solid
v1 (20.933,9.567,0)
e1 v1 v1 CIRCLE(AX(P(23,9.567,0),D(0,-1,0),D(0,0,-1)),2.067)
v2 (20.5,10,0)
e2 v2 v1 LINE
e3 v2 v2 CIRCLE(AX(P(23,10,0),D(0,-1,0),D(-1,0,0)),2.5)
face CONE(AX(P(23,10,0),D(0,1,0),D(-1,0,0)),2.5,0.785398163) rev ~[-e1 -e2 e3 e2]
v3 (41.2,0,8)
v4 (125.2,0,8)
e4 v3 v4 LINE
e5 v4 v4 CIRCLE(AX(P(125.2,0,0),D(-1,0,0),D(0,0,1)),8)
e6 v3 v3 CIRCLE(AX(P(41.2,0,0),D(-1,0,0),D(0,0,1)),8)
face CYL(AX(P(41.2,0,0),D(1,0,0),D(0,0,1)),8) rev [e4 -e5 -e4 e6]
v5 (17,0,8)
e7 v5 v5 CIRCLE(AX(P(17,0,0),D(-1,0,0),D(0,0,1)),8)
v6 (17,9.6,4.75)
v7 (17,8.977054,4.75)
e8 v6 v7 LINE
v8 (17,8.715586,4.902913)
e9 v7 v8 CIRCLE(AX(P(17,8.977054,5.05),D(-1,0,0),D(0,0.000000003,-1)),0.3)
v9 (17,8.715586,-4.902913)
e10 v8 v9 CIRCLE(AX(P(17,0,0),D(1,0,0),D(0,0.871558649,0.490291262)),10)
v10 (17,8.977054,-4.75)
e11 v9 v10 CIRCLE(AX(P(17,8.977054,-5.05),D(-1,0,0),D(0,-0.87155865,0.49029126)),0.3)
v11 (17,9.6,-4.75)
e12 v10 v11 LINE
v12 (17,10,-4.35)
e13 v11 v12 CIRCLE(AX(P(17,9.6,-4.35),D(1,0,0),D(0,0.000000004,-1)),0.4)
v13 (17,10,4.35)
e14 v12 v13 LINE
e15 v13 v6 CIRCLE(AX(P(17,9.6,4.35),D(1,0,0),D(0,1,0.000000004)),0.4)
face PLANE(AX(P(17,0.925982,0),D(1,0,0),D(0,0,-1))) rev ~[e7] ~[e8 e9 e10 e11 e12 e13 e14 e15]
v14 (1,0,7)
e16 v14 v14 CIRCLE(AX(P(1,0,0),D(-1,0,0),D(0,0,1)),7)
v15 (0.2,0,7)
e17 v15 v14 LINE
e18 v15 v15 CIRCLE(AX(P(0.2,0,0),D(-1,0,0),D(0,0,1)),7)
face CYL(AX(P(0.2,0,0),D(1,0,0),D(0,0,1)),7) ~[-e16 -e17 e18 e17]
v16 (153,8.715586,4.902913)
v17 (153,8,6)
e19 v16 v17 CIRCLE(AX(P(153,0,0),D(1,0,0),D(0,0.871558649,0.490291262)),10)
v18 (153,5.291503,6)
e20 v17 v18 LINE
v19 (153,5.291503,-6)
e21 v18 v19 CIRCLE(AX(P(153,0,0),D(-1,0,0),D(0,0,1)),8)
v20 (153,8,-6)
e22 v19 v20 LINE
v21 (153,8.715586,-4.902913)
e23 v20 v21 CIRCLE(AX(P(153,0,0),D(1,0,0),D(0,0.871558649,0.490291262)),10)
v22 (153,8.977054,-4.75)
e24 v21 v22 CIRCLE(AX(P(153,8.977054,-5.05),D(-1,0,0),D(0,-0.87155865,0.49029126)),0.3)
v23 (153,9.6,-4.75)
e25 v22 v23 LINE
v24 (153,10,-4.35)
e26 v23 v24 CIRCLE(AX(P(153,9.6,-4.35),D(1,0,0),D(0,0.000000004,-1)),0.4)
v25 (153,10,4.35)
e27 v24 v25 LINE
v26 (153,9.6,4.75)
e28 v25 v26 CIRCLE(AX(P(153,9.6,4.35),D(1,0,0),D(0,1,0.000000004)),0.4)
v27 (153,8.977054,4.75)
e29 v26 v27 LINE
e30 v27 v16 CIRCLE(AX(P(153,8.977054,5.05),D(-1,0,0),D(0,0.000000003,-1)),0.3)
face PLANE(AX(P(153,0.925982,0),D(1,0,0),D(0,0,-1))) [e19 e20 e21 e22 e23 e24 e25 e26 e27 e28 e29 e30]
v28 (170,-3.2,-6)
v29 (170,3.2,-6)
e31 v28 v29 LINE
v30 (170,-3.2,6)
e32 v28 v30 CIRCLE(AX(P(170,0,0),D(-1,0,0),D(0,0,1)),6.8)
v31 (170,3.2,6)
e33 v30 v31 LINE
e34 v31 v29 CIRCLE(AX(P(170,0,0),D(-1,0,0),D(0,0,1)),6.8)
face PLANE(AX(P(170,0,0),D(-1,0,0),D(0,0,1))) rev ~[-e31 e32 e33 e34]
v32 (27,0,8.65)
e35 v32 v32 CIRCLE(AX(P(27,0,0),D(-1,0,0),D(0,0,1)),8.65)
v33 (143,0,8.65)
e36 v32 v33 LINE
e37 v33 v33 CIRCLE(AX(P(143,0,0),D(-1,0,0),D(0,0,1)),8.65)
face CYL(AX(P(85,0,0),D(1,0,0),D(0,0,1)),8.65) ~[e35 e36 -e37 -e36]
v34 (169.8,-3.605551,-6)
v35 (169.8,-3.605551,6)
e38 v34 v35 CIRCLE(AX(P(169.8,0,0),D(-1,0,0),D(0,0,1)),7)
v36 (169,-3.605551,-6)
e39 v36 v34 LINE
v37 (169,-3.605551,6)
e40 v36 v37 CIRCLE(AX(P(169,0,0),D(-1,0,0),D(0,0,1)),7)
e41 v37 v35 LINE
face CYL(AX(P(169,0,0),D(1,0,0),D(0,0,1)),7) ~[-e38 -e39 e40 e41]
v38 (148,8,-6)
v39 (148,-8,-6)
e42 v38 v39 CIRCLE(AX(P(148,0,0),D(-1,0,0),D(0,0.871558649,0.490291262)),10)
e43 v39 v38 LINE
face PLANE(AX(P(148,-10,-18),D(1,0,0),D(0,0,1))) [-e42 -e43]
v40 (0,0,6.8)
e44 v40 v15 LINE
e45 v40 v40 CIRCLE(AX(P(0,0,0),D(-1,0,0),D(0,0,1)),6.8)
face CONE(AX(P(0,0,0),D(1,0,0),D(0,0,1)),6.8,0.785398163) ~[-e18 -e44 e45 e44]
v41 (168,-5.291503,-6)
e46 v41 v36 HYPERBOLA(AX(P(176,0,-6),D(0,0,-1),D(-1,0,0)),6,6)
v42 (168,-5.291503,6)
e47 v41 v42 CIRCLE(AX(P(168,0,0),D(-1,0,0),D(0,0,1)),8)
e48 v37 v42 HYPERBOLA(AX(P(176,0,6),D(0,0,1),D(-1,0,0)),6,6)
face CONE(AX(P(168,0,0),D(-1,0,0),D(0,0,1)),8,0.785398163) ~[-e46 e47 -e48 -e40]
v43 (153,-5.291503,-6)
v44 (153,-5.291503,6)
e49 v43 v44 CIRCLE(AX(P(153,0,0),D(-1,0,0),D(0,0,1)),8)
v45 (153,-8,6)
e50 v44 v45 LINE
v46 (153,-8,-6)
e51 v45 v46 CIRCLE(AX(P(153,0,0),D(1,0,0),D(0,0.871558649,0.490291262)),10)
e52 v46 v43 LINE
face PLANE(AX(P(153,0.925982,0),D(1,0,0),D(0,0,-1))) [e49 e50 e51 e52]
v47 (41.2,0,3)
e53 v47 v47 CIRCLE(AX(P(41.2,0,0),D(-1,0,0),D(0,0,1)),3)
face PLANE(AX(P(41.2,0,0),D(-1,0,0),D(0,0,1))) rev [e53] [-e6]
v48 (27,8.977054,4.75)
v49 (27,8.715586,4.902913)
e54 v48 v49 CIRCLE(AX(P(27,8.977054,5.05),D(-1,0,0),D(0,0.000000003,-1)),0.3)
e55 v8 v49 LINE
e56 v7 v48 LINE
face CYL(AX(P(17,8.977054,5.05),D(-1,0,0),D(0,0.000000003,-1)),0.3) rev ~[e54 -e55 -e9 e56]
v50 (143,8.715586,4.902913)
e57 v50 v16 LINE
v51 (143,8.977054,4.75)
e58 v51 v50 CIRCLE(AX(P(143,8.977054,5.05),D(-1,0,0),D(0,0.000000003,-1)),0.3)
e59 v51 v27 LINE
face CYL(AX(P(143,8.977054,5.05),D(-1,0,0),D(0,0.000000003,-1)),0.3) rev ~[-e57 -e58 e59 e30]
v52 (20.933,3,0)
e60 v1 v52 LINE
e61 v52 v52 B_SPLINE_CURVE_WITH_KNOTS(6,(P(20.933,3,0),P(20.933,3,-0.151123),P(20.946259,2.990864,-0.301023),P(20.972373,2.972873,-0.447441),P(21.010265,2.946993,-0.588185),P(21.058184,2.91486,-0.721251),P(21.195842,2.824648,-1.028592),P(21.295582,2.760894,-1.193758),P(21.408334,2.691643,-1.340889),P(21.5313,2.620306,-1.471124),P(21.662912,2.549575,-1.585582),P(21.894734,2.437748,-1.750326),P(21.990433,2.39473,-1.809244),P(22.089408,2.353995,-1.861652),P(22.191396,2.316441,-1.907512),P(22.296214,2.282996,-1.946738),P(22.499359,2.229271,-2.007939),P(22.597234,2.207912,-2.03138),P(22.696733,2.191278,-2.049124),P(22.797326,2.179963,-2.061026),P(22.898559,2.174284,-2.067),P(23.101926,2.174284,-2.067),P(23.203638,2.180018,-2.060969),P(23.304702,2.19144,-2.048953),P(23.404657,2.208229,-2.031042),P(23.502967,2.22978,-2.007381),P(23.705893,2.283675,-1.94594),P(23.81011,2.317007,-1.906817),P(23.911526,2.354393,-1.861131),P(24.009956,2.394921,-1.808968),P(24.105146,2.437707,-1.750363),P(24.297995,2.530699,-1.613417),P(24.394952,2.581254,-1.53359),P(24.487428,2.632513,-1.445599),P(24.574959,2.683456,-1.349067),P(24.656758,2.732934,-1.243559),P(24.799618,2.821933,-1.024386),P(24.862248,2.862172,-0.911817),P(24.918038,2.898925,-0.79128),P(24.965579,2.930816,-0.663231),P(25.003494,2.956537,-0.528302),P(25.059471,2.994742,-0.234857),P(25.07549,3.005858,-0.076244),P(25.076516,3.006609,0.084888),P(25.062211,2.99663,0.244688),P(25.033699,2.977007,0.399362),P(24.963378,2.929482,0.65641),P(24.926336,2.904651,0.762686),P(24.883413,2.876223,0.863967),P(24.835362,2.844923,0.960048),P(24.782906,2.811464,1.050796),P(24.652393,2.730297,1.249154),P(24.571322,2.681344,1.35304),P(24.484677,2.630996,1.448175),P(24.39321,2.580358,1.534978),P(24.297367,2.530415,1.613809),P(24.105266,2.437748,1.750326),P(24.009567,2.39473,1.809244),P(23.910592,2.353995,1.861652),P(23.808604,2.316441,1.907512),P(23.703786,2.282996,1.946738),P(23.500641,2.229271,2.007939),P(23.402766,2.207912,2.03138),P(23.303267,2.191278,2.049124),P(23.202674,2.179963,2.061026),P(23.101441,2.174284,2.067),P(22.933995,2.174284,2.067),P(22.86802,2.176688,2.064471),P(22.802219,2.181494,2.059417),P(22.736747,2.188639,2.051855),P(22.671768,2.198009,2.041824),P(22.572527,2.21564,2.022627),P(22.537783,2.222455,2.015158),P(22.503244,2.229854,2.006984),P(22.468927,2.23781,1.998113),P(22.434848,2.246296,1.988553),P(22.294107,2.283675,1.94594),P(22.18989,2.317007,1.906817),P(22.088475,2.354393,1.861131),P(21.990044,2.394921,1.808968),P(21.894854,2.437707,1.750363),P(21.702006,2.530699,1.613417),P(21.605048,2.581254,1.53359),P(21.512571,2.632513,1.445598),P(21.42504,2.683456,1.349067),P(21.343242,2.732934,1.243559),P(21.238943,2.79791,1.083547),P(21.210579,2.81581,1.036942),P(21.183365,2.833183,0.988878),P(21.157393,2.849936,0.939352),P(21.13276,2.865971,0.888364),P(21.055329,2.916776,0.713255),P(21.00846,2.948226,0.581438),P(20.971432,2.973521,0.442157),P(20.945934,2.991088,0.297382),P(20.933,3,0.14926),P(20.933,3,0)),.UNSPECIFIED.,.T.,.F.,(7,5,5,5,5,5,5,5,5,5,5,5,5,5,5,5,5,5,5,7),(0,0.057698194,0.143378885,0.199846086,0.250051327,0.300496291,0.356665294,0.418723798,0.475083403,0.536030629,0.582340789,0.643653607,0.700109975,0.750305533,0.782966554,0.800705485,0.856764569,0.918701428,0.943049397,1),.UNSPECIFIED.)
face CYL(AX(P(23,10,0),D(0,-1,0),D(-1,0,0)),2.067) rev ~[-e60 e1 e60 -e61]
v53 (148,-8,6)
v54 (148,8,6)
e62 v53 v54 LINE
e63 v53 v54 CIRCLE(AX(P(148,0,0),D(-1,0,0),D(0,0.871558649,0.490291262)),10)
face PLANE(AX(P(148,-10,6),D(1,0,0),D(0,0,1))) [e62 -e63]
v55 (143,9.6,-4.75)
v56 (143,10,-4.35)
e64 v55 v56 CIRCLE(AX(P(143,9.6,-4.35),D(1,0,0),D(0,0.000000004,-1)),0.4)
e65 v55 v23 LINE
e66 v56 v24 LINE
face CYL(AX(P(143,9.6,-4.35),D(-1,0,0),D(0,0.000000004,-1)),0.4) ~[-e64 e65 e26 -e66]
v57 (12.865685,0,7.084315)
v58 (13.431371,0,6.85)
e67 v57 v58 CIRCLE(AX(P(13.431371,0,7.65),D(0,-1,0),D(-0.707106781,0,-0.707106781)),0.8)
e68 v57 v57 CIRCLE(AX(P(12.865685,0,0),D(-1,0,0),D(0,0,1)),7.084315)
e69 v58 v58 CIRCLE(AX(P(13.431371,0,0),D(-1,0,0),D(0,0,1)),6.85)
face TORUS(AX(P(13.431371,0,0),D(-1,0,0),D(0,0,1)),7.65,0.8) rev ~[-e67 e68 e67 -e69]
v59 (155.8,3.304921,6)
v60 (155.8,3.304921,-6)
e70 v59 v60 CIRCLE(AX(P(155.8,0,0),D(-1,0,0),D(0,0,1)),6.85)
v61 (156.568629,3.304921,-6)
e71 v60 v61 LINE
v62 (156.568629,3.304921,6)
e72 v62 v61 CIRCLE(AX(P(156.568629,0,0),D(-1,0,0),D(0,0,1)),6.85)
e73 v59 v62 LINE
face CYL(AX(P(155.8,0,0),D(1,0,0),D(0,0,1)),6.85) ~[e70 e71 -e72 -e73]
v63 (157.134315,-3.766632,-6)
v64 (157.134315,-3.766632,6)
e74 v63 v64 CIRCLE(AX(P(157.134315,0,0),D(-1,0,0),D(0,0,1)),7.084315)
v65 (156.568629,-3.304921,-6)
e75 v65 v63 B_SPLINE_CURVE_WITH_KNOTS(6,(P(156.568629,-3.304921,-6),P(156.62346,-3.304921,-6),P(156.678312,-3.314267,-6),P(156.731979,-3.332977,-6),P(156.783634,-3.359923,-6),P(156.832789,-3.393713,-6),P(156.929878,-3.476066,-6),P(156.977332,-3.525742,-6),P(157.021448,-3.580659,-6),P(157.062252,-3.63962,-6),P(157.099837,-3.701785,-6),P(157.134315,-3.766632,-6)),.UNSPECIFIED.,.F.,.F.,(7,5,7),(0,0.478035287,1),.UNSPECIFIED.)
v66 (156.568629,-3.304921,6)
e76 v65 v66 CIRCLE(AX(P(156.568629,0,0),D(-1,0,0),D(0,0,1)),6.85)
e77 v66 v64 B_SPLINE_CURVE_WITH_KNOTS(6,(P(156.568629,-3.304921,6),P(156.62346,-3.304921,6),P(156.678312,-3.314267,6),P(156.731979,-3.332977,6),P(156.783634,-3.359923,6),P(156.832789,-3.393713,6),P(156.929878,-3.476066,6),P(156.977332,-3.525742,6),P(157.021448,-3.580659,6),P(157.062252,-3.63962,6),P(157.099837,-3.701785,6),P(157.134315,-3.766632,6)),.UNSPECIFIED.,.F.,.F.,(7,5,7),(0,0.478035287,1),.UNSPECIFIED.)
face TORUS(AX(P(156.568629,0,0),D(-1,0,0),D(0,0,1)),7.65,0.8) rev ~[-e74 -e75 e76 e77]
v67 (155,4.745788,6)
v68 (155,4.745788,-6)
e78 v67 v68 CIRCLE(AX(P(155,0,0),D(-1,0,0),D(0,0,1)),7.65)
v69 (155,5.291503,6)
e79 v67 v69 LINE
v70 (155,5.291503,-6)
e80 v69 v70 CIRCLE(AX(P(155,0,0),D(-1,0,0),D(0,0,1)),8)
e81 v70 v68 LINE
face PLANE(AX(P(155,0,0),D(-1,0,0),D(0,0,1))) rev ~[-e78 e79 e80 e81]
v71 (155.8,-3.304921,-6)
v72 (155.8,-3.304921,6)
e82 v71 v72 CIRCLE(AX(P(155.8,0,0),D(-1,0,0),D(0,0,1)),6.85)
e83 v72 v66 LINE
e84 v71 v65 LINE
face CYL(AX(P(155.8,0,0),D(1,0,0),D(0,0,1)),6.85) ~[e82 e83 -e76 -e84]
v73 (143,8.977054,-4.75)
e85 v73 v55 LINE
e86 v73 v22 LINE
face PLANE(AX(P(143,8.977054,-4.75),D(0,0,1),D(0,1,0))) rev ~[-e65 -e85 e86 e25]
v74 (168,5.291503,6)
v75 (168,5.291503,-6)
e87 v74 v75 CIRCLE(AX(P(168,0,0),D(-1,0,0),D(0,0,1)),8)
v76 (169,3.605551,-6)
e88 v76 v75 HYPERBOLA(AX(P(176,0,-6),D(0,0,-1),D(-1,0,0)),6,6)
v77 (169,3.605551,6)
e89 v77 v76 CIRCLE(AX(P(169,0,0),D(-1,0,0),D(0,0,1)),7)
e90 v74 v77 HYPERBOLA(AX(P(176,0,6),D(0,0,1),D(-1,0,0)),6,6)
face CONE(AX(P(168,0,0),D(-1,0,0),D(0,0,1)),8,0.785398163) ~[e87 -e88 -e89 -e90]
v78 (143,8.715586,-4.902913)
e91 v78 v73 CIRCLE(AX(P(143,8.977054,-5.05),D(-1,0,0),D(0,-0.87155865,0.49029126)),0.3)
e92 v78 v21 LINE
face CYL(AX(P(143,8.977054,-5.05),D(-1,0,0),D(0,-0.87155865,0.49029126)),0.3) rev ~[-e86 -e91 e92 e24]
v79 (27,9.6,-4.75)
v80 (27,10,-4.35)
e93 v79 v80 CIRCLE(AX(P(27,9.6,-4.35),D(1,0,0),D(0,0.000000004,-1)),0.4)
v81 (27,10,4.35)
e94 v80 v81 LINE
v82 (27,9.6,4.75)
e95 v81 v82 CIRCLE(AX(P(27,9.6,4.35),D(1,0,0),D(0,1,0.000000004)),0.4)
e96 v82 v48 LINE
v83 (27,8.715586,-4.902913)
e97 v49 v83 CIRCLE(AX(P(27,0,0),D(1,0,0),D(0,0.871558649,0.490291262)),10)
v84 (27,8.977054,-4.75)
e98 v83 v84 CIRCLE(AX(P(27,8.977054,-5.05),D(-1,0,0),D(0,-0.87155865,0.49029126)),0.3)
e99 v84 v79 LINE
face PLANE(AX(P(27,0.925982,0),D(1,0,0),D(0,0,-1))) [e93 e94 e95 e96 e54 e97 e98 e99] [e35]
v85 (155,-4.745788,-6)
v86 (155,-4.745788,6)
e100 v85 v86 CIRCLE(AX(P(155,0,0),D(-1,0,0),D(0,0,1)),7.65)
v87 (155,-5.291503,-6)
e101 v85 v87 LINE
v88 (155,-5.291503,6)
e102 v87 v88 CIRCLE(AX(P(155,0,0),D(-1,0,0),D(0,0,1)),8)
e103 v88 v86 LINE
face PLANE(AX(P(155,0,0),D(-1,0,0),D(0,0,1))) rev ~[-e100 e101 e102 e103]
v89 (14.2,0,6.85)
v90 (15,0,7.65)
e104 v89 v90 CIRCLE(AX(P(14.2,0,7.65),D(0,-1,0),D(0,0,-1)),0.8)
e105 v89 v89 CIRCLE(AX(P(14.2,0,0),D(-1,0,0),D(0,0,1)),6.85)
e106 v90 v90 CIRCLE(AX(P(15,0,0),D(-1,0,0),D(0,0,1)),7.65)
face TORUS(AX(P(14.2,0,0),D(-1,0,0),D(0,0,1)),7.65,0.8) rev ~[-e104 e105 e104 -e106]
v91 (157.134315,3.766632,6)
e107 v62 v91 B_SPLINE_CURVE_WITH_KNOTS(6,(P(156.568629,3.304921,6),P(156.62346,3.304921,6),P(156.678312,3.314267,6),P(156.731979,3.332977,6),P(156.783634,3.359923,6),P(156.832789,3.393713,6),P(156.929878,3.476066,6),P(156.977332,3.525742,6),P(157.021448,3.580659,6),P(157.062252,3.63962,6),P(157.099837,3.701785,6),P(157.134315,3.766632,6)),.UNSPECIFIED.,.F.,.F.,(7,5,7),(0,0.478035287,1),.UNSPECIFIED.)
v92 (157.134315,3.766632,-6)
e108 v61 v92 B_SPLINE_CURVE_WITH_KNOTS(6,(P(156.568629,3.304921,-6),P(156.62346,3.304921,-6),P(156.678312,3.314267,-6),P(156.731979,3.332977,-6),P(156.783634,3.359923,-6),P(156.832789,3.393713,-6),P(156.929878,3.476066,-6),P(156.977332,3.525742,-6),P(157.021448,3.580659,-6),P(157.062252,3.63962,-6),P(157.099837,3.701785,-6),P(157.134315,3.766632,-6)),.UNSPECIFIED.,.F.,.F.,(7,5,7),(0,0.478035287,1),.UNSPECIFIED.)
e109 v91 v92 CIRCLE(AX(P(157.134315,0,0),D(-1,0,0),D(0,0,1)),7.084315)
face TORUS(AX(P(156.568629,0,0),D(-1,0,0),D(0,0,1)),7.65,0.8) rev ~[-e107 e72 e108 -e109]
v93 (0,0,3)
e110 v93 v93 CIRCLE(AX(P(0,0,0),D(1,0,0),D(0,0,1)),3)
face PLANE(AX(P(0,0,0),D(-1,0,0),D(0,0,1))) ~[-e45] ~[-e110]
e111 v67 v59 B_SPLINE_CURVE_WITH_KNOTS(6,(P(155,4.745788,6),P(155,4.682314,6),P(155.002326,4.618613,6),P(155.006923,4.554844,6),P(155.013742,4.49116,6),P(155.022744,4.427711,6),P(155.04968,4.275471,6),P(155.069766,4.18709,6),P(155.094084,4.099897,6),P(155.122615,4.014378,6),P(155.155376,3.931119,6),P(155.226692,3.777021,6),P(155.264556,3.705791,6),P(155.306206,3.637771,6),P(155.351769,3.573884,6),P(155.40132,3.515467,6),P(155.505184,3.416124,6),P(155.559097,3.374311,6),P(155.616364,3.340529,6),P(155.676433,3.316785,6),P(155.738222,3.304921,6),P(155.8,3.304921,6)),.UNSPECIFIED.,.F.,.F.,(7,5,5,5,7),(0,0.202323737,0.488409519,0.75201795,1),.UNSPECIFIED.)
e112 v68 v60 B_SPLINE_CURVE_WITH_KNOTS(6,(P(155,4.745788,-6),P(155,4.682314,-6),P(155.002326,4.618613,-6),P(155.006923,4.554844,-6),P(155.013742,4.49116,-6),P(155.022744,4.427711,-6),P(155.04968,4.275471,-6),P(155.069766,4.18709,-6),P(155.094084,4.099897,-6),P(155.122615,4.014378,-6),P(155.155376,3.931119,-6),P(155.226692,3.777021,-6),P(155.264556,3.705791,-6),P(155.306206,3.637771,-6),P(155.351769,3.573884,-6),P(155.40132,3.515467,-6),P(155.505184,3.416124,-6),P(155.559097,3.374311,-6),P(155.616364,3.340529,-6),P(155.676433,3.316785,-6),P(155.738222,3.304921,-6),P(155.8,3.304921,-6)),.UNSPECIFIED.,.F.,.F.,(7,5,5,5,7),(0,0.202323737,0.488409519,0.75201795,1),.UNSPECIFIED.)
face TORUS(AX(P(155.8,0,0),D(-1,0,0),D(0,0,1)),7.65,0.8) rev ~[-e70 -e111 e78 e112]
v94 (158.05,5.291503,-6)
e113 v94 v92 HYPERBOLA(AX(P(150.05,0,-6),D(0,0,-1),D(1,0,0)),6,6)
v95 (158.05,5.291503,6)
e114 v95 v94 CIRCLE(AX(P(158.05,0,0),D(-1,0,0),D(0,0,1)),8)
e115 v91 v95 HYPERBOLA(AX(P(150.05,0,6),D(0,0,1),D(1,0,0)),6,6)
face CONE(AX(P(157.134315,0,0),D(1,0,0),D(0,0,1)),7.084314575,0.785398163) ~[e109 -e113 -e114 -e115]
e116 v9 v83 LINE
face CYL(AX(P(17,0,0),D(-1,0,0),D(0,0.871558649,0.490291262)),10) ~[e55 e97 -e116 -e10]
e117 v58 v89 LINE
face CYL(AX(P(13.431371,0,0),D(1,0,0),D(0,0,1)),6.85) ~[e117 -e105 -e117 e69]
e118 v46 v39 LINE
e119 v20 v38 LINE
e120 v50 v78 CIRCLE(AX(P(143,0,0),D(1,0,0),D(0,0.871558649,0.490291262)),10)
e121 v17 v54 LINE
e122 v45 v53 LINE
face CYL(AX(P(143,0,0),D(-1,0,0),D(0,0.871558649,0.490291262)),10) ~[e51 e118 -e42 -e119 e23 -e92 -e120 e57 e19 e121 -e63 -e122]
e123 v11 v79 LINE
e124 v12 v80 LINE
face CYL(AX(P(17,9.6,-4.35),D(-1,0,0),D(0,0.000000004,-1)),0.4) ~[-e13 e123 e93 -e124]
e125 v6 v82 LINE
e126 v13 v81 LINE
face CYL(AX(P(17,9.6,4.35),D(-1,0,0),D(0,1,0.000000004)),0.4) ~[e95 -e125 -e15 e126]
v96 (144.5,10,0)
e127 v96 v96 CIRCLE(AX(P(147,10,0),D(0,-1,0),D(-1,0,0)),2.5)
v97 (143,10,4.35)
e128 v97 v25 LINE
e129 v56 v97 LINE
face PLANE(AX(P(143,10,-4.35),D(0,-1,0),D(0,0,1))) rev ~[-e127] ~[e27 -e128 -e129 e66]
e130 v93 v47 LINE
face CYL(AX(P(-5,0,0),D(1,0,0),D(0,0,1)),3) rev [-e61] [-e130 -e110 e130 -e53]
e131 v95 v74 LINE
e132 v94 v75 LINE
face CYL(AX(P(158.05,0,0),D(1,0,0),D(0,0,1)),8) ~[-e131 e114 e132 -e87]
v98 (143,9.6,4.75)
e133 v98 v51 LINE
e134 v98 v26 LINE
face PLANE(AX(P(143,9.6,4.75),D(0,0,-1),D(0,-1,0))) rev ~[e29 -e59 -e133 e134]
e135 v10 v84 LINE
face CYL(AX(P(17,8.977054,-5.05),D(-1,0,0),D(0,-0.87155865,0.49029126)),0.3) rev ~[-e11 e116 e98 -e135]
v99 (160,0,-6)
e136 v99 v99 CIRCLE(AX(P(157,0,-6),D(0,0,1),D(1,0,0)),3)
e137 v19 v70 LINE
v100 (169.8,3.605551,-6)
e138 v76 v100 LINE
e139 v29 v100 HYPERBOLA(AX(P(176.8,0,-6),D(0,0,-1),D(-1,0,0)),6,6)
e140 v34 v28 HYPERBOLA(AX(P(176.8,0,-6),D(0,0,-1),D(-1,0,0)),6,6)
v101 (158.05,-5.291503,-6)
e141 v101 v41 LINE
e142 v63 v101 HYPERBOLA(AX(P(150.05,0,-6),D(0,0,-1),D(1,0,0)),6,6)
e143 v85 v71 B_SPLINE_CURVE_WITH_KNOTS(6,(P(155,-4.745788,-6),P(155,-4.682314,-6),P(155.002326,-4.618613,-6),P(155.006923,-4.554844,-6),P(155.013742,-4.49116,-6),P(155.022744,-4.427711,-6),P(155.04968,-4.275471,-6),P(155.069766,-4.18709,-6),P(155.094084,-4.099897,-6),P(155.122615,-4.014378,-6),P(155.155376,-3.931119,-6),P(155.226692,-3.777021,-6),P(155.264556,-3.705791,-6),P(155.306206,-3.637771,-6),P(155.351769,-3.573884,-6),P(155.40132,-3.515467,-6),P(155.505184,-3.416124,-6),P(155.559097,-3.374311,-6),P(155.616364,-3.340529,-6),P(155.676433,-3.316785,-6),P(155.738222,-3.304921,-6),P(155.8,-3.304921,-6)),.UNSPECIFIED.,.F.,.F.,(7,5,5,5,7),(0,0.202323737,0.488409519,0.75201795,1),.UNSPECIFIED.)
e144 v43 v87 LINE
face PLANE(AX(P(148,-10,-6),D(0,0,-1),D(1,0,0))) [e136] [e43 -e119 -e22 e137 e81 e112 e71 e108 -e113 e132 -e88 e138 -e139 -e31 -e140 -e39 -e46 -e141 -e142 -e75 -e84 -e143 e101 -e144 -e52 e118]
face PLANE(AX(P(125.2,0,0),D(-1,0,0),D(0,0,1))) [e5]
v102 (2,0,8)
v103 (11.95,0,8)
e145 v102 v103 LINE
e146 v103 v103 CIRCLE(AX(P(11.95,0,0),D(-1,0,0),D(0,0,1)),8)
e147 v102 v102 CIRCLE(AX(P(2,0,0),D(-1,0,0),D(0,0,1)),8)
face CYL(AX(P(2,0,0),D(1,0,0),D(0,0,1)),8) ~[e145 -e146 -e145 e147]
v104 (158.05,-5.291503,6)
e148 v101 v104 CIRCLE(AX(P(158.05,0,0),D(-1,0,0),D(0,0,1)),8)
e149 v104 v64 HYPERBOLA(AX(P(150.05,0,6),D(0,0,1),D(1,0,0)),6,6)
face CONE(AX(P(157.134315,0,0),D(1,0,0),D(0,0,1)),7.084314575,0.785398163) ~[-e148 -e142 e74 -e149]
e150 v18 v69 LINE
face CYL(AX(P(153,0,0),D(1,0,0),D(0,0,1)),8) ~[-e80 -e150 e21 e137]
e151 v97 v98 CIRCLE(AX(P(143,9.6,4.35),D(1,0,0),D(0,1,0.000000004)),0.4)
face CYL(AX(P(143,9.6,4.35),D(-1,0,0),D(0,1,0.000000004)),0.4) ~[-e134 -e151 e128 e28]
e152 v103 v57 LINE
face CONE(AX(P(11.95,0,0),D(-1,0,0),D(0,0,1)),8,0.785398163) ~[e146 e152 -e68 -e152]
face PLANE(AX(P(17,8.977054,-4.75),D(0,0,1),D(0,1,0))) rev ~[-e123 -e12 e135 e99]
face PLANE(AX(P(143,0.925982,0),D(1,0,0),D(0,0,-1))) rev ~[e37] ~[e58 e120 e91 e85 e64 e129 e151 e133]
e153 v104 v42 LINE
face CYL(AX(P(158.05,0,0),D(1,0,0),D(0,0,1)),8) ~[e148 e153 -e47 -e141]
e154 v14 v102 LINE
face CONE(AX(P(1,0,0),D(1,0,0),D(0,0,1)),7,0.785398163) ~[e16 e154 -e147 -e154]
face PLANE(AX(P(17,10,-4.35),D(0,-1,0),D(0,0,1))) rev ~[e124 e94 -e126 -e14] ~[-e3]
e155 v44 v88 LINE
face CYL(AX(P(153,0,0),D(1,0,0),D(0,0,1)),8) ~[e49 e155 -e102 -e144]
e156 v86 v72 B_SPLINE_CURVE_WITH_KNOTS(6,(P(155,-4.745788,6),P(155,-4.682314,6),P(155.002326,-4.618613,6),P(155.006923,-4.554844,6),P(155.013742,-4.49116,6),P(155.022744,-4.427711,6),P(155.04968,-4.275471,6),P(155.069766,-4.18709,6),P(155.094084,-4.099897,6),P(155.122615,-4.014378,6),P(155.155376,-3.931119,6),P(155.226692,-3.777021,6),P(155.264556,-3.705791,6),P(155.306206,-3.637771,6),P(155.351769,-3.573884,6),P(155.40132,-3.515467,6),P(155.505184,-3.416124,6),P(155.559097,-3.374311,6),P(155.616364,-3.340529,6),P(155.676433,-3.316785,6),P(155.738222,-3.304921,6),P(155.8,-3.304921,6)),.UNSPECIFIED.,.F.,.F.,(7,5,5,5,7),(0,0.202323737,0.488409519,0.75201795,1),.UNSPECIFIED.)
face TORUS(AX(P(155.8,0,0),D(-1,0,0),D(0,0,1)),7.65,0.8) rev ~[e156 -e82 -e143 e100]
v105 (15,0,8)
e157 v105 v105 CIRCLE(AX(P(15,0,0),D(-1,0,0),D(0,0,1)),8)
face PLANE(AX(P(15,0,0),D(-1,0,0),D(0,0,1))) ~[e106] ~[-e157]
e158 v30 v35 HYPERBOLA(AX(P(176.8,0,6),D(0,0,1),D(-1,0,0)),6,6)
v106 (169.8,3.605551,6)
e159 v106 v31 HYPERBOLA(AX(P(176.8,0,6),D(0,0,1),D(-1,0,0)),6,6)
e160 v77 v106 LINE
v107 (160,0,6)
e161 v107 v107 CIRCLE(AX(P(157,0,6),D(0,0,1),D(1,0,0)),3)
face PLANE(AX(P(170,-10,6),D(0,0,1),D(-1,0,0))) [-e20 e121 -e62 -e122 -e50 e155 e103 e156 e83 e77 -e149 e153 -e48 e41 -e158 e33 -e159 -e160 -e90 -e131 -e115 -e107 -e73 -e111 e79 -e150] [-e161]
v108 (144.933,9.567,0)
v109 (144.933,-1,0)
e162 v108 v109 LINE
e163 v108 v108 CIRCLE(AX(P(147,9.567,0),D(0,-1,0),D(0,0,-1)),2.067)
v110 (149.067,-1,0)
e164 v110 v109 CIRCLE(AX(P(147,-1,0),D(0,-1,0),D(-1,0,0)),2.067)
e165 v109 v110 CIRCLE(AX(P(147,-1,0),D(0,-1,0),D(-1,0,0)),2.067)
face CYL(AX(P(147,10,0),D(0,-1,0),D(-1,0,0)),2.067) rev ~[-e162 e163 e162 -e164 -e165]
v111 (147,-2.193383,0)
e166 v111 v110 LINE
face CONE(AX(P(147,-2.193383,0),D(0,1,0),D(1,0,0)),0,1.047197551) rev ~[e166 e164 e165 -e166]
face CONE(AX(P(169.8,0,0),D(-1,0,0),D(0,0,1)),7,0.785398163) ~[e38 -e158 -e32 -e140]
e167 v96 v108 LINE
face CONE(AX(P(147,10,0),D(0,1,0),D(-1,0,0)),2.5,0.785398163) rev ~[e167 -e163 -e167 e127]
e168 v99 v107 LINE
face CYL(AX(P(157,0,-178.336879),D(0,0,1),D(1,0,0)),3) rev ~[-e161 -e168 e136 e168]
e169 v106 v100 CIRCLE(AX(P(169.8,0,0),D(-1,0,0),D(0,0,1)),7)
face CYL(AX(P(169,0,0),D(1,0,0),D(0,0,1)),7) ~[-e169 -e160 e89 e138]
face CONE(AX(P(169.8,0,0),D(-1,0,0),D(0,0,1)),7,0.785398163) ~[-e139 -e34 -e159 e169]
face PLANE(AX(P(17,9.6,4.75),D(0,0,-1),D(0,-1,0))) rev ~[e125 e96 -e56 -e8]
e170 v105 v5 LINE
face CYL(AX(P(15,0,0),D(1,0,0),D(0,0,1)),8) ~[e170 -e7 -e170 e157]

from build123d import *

# Parameters (mm, degrees)
AUFSATZ_LINEAR_AUSTRAGEN1_DEPTH      = 10
SKIZZE3_W                            = 116
SKIZZE3_H                            = 8.65
AUFSATZ_LINEAR_AUSTRAGEN2_DEPTH      = 10
SCHNITT_LINEAR_AUSTRAGEN1_DEPTH      = 10
SCHNITT_LINEAR_AUSTRAGEN1_DEPTH_BACK = 10
BOHRUNG1_D                           = 6
BOHRUNG2_D                           = 4.134
BOHRUNG2_DEPTH                       = 10
BOHRUNG2_CSINK_D                     = 5
BOHRUNG2_CSINK_ANGLE                 = 90
BOHRUNG3_D                           = 4.134
BOHRUNG3_DEPTH                       = 11
BOHRUNG3_CSINK_D                     = 5
BOHRUNG3_CSINK_ANGLE                 = 90
BOHRUNG3_TIP                         = 1.193383006


with BuildPart() as part:
    # Skizze1 → Rotation1 (revolve)
    with BuildSketch(Plane.XY):
        with BuildLine():
            Line((0, 0), (0, 6.8))
            Line((0, 6.8), (0.2, 7))
            Line((0.2, 7), (1, 7))
            Line((1, 7), (2, 8))
            Line((2, 8), (11.95, 8))
            Line((11.95, 8), (12.865685425, 7.084314575))
            ThreePointArc((12.865685425, 7.084314575), (13.125224104, 6.910896374), (13.43137085, 6.85))
            Line((13.43137085, 6.85), (14.2, 6.85))
            ThreePointArc((14.2, 6.85), (14.765685425, 7.084314575), (15, 7.65))
            Line((15, 7.65), (15, 8))
            Line((15, 8), (17, 8))
            Line((17, 8), (17, 0))
            Line((17, 0), (0, 0))
        make_face()
    revolve(axis=Axis((17, 0, 0), (-1, 0, 0)))

    # Skizze2 → Aufsatz-Linear austragen1 (add)
    with BuildSketch(Plane(origin=(17, 0, 0), x_dir=(0, 0, -1), z_dir=(1, 0, 0))):
        with BuildLine():
            Line((4.75, 8.977054082), (4.75, 9.6))
            ThreePointArc((4.75, 9.6), (4.632842712, 9.882842712), (4.35, 10))
            Line((4.35, 10), (-4.35, 10))
            ThreePointArc((-4.35, 10), (-4.632842712, 9.882842712), (-4.75, 9.6))
            Line((-4.75, 9.6), (-4.75, 8.977054082))
            ThreePointArc((-4.75, 8.977054082), (-4.791034545, 8.825604773), (-4.902912621, 8.715586488))
            ThreePointArc((-4.902912621, 8.715586488), (0, -10), (4.902912621, 8.715586488))
            ThreePointArc((4.902912621, 8.715586488), (4.791034545, 8.825604773), (4.75, 8.977054082))
        make_face()
    extrude(amount=AUFSATZ_LINEAR_AUSTRAGEN1_DEPTH)

    # Skizze3 → Rotation2 (revolve)
    with BuildSketch(Plane.XY):
        with Locations((85, 4.325)):
            Rectangle(SKIZZE3_W, SKIZZE3_H)
    revolve(axis=Axis((143, 0, 0), (-1, 0, 0)))

    # Skizze4 → Aufsatz-Linear austragen2 (add)
    with BuildSketch(Plane(origin=(143, 0, 0), x_dir=(0, 0, -1), z_dir=(1, 0, 0))):
        with BuildLine():
            Line((4.75, 8.977054082), (4.75, 9.6))
            ThreePointArc((4.75, 9.6), (4.632842712, 9.882842712), (4.35, 10))
            Line((4.35, 10), (-4.35, 10))
            ThreePointArc((-4.35, 10), (-4.632842712, 9.882842712), (-4.75, 9.6))
            Line((-4.75, 9.6), (-4.75, 8.977054082))
            ThreePointArc((-4.75, 8.977054082), (-4.791034545, 8.825604773), (-4.902912621, 8.715586488))
            ThreePointArc((-4.902912621, 8.715586488), (0, -10), (4.902912621, 8.715586488))
            ThreePointArc((4.902912621, 8.715586488), (4.791034545, 8.825604773), (4.75, 8.977054082))
        make_face()
    extrude(amount=AUFSATZ_LINEAR_AUSTRAGEN2_DEPTH)

    # Skizze5 → Rotation3 (revolve)
    with BuildSketch(Plane.XY):
        with BuildLine():
            Line((153, 0), (153, 8))
            Line((153, 8), (155, 8))
            Line((155, 8), (155, 7.65))
            ThreePointArc((155, 7.65), (155.234314575, 7.084314575), (155.8, 6.85))
            Line((155.8, 6.85), (156.56862915, 6.85))
            ThreePointArc((156.56862915, 6.85), (156.874775896, 6.910896374), (157.134314575, 7.084314575))
            Line((157.134314575, 7.084314575), (158.05, 8))
            Line((158.05, 8), (168, 8))
            Line((168, 8), (169, 7))
            Line((169, 7), (169.8, 7))
            Line((169.8, 7), (170, 6.8))
            Line((170, 6.8), (170, 0))
            Line((170, 0), (153, 0))
        make_face()
    revolve(axis=Axis((170, 0, 0), (-1, 0, 0)))

    # Skizze6 → Schnitt-Linear austragen1 (cut, two sides: drawn at the far end of the back side and taken through both)
    with BuildSketch(Plane(origin=(0, 0, 0), x_dir=(1, 0, 0), z_dir=(0, 1, 0)).offset(-SCHNITT_LINEAR_AUSTRAGEN1_DEPTH_BACK)):
        Polygon((148, 18), (148, 6), (170, 6), (170, -6), (148, -6), (148, -18), (182, -18), (182, 18), align=None)
    extrude(amount=SCHNITT_LINEAR_AUSTRAGEN1_DEPTH + SCHNITT_LINEAR_AUSTRAGEN1_DEPTH_BACK, mode=Mode.SUBTRACT)

    # Bohrung1 (through all)
    with Locations(Plane(origin=(0, 0, -6), x_dir=(-1, 0, 0), z_dir=(0, 0, -1))):
        with Locations((-157, 0)):
            Hole(BOHRUNG1_D / 2)

    # Bohrung2
    with Locations(Plane(origin=(0, 10, 0), x_dir=(1, 0, 0), z_dir=(0, 1, 0))):
        with Locations((23, 0)):
            CounterSinkHole(BOHRUNG2_D / 2, BOHRUNG2_CSINK_D / 2, depth=BOHRUNG2_DEPTH, counter_sink_angle=BOHRUNG2_CSINK_ANGLE)

    # Bohrung3
    with Locations(Plane(origin=(0, 10, 0), x_dir=(1, 0, 0), z_dir=(0, 1, 0))):
        with Locations((147, 0)):
            CounterSinkHole(BOHRUNG3_D / 2, BOHRUNG3_CSINK_D / 2, depth=BOHRUNG3_DEPTH, counter_sink_angle=BOHRUNG3_CSINK_ANGLE)
            with Locations((0, 0, -(BOHRUNG3_DEPTH + BOHRUNG3_TIP / 2))):  # 120° drill point
                Cone(0, BOHRUNG3_D / 2, BOHRUNG3_TIP, mode=Mode.SUBTRACT)

    # Skizze13 → Schnitt-Rotation1 (revolve, cut)
    with BuildSketch(Plane.XY):
        Polygon((-5, 0), (-5, 3), (41.2, 3), (41.2, 8), (125.2, 8), (125.2, 0), align=None)
    revolve(axis=Axis((125.2, 0, 0), (-1, 0, 0)), mode=Mode.SUBTRACT)


solid = part.part
